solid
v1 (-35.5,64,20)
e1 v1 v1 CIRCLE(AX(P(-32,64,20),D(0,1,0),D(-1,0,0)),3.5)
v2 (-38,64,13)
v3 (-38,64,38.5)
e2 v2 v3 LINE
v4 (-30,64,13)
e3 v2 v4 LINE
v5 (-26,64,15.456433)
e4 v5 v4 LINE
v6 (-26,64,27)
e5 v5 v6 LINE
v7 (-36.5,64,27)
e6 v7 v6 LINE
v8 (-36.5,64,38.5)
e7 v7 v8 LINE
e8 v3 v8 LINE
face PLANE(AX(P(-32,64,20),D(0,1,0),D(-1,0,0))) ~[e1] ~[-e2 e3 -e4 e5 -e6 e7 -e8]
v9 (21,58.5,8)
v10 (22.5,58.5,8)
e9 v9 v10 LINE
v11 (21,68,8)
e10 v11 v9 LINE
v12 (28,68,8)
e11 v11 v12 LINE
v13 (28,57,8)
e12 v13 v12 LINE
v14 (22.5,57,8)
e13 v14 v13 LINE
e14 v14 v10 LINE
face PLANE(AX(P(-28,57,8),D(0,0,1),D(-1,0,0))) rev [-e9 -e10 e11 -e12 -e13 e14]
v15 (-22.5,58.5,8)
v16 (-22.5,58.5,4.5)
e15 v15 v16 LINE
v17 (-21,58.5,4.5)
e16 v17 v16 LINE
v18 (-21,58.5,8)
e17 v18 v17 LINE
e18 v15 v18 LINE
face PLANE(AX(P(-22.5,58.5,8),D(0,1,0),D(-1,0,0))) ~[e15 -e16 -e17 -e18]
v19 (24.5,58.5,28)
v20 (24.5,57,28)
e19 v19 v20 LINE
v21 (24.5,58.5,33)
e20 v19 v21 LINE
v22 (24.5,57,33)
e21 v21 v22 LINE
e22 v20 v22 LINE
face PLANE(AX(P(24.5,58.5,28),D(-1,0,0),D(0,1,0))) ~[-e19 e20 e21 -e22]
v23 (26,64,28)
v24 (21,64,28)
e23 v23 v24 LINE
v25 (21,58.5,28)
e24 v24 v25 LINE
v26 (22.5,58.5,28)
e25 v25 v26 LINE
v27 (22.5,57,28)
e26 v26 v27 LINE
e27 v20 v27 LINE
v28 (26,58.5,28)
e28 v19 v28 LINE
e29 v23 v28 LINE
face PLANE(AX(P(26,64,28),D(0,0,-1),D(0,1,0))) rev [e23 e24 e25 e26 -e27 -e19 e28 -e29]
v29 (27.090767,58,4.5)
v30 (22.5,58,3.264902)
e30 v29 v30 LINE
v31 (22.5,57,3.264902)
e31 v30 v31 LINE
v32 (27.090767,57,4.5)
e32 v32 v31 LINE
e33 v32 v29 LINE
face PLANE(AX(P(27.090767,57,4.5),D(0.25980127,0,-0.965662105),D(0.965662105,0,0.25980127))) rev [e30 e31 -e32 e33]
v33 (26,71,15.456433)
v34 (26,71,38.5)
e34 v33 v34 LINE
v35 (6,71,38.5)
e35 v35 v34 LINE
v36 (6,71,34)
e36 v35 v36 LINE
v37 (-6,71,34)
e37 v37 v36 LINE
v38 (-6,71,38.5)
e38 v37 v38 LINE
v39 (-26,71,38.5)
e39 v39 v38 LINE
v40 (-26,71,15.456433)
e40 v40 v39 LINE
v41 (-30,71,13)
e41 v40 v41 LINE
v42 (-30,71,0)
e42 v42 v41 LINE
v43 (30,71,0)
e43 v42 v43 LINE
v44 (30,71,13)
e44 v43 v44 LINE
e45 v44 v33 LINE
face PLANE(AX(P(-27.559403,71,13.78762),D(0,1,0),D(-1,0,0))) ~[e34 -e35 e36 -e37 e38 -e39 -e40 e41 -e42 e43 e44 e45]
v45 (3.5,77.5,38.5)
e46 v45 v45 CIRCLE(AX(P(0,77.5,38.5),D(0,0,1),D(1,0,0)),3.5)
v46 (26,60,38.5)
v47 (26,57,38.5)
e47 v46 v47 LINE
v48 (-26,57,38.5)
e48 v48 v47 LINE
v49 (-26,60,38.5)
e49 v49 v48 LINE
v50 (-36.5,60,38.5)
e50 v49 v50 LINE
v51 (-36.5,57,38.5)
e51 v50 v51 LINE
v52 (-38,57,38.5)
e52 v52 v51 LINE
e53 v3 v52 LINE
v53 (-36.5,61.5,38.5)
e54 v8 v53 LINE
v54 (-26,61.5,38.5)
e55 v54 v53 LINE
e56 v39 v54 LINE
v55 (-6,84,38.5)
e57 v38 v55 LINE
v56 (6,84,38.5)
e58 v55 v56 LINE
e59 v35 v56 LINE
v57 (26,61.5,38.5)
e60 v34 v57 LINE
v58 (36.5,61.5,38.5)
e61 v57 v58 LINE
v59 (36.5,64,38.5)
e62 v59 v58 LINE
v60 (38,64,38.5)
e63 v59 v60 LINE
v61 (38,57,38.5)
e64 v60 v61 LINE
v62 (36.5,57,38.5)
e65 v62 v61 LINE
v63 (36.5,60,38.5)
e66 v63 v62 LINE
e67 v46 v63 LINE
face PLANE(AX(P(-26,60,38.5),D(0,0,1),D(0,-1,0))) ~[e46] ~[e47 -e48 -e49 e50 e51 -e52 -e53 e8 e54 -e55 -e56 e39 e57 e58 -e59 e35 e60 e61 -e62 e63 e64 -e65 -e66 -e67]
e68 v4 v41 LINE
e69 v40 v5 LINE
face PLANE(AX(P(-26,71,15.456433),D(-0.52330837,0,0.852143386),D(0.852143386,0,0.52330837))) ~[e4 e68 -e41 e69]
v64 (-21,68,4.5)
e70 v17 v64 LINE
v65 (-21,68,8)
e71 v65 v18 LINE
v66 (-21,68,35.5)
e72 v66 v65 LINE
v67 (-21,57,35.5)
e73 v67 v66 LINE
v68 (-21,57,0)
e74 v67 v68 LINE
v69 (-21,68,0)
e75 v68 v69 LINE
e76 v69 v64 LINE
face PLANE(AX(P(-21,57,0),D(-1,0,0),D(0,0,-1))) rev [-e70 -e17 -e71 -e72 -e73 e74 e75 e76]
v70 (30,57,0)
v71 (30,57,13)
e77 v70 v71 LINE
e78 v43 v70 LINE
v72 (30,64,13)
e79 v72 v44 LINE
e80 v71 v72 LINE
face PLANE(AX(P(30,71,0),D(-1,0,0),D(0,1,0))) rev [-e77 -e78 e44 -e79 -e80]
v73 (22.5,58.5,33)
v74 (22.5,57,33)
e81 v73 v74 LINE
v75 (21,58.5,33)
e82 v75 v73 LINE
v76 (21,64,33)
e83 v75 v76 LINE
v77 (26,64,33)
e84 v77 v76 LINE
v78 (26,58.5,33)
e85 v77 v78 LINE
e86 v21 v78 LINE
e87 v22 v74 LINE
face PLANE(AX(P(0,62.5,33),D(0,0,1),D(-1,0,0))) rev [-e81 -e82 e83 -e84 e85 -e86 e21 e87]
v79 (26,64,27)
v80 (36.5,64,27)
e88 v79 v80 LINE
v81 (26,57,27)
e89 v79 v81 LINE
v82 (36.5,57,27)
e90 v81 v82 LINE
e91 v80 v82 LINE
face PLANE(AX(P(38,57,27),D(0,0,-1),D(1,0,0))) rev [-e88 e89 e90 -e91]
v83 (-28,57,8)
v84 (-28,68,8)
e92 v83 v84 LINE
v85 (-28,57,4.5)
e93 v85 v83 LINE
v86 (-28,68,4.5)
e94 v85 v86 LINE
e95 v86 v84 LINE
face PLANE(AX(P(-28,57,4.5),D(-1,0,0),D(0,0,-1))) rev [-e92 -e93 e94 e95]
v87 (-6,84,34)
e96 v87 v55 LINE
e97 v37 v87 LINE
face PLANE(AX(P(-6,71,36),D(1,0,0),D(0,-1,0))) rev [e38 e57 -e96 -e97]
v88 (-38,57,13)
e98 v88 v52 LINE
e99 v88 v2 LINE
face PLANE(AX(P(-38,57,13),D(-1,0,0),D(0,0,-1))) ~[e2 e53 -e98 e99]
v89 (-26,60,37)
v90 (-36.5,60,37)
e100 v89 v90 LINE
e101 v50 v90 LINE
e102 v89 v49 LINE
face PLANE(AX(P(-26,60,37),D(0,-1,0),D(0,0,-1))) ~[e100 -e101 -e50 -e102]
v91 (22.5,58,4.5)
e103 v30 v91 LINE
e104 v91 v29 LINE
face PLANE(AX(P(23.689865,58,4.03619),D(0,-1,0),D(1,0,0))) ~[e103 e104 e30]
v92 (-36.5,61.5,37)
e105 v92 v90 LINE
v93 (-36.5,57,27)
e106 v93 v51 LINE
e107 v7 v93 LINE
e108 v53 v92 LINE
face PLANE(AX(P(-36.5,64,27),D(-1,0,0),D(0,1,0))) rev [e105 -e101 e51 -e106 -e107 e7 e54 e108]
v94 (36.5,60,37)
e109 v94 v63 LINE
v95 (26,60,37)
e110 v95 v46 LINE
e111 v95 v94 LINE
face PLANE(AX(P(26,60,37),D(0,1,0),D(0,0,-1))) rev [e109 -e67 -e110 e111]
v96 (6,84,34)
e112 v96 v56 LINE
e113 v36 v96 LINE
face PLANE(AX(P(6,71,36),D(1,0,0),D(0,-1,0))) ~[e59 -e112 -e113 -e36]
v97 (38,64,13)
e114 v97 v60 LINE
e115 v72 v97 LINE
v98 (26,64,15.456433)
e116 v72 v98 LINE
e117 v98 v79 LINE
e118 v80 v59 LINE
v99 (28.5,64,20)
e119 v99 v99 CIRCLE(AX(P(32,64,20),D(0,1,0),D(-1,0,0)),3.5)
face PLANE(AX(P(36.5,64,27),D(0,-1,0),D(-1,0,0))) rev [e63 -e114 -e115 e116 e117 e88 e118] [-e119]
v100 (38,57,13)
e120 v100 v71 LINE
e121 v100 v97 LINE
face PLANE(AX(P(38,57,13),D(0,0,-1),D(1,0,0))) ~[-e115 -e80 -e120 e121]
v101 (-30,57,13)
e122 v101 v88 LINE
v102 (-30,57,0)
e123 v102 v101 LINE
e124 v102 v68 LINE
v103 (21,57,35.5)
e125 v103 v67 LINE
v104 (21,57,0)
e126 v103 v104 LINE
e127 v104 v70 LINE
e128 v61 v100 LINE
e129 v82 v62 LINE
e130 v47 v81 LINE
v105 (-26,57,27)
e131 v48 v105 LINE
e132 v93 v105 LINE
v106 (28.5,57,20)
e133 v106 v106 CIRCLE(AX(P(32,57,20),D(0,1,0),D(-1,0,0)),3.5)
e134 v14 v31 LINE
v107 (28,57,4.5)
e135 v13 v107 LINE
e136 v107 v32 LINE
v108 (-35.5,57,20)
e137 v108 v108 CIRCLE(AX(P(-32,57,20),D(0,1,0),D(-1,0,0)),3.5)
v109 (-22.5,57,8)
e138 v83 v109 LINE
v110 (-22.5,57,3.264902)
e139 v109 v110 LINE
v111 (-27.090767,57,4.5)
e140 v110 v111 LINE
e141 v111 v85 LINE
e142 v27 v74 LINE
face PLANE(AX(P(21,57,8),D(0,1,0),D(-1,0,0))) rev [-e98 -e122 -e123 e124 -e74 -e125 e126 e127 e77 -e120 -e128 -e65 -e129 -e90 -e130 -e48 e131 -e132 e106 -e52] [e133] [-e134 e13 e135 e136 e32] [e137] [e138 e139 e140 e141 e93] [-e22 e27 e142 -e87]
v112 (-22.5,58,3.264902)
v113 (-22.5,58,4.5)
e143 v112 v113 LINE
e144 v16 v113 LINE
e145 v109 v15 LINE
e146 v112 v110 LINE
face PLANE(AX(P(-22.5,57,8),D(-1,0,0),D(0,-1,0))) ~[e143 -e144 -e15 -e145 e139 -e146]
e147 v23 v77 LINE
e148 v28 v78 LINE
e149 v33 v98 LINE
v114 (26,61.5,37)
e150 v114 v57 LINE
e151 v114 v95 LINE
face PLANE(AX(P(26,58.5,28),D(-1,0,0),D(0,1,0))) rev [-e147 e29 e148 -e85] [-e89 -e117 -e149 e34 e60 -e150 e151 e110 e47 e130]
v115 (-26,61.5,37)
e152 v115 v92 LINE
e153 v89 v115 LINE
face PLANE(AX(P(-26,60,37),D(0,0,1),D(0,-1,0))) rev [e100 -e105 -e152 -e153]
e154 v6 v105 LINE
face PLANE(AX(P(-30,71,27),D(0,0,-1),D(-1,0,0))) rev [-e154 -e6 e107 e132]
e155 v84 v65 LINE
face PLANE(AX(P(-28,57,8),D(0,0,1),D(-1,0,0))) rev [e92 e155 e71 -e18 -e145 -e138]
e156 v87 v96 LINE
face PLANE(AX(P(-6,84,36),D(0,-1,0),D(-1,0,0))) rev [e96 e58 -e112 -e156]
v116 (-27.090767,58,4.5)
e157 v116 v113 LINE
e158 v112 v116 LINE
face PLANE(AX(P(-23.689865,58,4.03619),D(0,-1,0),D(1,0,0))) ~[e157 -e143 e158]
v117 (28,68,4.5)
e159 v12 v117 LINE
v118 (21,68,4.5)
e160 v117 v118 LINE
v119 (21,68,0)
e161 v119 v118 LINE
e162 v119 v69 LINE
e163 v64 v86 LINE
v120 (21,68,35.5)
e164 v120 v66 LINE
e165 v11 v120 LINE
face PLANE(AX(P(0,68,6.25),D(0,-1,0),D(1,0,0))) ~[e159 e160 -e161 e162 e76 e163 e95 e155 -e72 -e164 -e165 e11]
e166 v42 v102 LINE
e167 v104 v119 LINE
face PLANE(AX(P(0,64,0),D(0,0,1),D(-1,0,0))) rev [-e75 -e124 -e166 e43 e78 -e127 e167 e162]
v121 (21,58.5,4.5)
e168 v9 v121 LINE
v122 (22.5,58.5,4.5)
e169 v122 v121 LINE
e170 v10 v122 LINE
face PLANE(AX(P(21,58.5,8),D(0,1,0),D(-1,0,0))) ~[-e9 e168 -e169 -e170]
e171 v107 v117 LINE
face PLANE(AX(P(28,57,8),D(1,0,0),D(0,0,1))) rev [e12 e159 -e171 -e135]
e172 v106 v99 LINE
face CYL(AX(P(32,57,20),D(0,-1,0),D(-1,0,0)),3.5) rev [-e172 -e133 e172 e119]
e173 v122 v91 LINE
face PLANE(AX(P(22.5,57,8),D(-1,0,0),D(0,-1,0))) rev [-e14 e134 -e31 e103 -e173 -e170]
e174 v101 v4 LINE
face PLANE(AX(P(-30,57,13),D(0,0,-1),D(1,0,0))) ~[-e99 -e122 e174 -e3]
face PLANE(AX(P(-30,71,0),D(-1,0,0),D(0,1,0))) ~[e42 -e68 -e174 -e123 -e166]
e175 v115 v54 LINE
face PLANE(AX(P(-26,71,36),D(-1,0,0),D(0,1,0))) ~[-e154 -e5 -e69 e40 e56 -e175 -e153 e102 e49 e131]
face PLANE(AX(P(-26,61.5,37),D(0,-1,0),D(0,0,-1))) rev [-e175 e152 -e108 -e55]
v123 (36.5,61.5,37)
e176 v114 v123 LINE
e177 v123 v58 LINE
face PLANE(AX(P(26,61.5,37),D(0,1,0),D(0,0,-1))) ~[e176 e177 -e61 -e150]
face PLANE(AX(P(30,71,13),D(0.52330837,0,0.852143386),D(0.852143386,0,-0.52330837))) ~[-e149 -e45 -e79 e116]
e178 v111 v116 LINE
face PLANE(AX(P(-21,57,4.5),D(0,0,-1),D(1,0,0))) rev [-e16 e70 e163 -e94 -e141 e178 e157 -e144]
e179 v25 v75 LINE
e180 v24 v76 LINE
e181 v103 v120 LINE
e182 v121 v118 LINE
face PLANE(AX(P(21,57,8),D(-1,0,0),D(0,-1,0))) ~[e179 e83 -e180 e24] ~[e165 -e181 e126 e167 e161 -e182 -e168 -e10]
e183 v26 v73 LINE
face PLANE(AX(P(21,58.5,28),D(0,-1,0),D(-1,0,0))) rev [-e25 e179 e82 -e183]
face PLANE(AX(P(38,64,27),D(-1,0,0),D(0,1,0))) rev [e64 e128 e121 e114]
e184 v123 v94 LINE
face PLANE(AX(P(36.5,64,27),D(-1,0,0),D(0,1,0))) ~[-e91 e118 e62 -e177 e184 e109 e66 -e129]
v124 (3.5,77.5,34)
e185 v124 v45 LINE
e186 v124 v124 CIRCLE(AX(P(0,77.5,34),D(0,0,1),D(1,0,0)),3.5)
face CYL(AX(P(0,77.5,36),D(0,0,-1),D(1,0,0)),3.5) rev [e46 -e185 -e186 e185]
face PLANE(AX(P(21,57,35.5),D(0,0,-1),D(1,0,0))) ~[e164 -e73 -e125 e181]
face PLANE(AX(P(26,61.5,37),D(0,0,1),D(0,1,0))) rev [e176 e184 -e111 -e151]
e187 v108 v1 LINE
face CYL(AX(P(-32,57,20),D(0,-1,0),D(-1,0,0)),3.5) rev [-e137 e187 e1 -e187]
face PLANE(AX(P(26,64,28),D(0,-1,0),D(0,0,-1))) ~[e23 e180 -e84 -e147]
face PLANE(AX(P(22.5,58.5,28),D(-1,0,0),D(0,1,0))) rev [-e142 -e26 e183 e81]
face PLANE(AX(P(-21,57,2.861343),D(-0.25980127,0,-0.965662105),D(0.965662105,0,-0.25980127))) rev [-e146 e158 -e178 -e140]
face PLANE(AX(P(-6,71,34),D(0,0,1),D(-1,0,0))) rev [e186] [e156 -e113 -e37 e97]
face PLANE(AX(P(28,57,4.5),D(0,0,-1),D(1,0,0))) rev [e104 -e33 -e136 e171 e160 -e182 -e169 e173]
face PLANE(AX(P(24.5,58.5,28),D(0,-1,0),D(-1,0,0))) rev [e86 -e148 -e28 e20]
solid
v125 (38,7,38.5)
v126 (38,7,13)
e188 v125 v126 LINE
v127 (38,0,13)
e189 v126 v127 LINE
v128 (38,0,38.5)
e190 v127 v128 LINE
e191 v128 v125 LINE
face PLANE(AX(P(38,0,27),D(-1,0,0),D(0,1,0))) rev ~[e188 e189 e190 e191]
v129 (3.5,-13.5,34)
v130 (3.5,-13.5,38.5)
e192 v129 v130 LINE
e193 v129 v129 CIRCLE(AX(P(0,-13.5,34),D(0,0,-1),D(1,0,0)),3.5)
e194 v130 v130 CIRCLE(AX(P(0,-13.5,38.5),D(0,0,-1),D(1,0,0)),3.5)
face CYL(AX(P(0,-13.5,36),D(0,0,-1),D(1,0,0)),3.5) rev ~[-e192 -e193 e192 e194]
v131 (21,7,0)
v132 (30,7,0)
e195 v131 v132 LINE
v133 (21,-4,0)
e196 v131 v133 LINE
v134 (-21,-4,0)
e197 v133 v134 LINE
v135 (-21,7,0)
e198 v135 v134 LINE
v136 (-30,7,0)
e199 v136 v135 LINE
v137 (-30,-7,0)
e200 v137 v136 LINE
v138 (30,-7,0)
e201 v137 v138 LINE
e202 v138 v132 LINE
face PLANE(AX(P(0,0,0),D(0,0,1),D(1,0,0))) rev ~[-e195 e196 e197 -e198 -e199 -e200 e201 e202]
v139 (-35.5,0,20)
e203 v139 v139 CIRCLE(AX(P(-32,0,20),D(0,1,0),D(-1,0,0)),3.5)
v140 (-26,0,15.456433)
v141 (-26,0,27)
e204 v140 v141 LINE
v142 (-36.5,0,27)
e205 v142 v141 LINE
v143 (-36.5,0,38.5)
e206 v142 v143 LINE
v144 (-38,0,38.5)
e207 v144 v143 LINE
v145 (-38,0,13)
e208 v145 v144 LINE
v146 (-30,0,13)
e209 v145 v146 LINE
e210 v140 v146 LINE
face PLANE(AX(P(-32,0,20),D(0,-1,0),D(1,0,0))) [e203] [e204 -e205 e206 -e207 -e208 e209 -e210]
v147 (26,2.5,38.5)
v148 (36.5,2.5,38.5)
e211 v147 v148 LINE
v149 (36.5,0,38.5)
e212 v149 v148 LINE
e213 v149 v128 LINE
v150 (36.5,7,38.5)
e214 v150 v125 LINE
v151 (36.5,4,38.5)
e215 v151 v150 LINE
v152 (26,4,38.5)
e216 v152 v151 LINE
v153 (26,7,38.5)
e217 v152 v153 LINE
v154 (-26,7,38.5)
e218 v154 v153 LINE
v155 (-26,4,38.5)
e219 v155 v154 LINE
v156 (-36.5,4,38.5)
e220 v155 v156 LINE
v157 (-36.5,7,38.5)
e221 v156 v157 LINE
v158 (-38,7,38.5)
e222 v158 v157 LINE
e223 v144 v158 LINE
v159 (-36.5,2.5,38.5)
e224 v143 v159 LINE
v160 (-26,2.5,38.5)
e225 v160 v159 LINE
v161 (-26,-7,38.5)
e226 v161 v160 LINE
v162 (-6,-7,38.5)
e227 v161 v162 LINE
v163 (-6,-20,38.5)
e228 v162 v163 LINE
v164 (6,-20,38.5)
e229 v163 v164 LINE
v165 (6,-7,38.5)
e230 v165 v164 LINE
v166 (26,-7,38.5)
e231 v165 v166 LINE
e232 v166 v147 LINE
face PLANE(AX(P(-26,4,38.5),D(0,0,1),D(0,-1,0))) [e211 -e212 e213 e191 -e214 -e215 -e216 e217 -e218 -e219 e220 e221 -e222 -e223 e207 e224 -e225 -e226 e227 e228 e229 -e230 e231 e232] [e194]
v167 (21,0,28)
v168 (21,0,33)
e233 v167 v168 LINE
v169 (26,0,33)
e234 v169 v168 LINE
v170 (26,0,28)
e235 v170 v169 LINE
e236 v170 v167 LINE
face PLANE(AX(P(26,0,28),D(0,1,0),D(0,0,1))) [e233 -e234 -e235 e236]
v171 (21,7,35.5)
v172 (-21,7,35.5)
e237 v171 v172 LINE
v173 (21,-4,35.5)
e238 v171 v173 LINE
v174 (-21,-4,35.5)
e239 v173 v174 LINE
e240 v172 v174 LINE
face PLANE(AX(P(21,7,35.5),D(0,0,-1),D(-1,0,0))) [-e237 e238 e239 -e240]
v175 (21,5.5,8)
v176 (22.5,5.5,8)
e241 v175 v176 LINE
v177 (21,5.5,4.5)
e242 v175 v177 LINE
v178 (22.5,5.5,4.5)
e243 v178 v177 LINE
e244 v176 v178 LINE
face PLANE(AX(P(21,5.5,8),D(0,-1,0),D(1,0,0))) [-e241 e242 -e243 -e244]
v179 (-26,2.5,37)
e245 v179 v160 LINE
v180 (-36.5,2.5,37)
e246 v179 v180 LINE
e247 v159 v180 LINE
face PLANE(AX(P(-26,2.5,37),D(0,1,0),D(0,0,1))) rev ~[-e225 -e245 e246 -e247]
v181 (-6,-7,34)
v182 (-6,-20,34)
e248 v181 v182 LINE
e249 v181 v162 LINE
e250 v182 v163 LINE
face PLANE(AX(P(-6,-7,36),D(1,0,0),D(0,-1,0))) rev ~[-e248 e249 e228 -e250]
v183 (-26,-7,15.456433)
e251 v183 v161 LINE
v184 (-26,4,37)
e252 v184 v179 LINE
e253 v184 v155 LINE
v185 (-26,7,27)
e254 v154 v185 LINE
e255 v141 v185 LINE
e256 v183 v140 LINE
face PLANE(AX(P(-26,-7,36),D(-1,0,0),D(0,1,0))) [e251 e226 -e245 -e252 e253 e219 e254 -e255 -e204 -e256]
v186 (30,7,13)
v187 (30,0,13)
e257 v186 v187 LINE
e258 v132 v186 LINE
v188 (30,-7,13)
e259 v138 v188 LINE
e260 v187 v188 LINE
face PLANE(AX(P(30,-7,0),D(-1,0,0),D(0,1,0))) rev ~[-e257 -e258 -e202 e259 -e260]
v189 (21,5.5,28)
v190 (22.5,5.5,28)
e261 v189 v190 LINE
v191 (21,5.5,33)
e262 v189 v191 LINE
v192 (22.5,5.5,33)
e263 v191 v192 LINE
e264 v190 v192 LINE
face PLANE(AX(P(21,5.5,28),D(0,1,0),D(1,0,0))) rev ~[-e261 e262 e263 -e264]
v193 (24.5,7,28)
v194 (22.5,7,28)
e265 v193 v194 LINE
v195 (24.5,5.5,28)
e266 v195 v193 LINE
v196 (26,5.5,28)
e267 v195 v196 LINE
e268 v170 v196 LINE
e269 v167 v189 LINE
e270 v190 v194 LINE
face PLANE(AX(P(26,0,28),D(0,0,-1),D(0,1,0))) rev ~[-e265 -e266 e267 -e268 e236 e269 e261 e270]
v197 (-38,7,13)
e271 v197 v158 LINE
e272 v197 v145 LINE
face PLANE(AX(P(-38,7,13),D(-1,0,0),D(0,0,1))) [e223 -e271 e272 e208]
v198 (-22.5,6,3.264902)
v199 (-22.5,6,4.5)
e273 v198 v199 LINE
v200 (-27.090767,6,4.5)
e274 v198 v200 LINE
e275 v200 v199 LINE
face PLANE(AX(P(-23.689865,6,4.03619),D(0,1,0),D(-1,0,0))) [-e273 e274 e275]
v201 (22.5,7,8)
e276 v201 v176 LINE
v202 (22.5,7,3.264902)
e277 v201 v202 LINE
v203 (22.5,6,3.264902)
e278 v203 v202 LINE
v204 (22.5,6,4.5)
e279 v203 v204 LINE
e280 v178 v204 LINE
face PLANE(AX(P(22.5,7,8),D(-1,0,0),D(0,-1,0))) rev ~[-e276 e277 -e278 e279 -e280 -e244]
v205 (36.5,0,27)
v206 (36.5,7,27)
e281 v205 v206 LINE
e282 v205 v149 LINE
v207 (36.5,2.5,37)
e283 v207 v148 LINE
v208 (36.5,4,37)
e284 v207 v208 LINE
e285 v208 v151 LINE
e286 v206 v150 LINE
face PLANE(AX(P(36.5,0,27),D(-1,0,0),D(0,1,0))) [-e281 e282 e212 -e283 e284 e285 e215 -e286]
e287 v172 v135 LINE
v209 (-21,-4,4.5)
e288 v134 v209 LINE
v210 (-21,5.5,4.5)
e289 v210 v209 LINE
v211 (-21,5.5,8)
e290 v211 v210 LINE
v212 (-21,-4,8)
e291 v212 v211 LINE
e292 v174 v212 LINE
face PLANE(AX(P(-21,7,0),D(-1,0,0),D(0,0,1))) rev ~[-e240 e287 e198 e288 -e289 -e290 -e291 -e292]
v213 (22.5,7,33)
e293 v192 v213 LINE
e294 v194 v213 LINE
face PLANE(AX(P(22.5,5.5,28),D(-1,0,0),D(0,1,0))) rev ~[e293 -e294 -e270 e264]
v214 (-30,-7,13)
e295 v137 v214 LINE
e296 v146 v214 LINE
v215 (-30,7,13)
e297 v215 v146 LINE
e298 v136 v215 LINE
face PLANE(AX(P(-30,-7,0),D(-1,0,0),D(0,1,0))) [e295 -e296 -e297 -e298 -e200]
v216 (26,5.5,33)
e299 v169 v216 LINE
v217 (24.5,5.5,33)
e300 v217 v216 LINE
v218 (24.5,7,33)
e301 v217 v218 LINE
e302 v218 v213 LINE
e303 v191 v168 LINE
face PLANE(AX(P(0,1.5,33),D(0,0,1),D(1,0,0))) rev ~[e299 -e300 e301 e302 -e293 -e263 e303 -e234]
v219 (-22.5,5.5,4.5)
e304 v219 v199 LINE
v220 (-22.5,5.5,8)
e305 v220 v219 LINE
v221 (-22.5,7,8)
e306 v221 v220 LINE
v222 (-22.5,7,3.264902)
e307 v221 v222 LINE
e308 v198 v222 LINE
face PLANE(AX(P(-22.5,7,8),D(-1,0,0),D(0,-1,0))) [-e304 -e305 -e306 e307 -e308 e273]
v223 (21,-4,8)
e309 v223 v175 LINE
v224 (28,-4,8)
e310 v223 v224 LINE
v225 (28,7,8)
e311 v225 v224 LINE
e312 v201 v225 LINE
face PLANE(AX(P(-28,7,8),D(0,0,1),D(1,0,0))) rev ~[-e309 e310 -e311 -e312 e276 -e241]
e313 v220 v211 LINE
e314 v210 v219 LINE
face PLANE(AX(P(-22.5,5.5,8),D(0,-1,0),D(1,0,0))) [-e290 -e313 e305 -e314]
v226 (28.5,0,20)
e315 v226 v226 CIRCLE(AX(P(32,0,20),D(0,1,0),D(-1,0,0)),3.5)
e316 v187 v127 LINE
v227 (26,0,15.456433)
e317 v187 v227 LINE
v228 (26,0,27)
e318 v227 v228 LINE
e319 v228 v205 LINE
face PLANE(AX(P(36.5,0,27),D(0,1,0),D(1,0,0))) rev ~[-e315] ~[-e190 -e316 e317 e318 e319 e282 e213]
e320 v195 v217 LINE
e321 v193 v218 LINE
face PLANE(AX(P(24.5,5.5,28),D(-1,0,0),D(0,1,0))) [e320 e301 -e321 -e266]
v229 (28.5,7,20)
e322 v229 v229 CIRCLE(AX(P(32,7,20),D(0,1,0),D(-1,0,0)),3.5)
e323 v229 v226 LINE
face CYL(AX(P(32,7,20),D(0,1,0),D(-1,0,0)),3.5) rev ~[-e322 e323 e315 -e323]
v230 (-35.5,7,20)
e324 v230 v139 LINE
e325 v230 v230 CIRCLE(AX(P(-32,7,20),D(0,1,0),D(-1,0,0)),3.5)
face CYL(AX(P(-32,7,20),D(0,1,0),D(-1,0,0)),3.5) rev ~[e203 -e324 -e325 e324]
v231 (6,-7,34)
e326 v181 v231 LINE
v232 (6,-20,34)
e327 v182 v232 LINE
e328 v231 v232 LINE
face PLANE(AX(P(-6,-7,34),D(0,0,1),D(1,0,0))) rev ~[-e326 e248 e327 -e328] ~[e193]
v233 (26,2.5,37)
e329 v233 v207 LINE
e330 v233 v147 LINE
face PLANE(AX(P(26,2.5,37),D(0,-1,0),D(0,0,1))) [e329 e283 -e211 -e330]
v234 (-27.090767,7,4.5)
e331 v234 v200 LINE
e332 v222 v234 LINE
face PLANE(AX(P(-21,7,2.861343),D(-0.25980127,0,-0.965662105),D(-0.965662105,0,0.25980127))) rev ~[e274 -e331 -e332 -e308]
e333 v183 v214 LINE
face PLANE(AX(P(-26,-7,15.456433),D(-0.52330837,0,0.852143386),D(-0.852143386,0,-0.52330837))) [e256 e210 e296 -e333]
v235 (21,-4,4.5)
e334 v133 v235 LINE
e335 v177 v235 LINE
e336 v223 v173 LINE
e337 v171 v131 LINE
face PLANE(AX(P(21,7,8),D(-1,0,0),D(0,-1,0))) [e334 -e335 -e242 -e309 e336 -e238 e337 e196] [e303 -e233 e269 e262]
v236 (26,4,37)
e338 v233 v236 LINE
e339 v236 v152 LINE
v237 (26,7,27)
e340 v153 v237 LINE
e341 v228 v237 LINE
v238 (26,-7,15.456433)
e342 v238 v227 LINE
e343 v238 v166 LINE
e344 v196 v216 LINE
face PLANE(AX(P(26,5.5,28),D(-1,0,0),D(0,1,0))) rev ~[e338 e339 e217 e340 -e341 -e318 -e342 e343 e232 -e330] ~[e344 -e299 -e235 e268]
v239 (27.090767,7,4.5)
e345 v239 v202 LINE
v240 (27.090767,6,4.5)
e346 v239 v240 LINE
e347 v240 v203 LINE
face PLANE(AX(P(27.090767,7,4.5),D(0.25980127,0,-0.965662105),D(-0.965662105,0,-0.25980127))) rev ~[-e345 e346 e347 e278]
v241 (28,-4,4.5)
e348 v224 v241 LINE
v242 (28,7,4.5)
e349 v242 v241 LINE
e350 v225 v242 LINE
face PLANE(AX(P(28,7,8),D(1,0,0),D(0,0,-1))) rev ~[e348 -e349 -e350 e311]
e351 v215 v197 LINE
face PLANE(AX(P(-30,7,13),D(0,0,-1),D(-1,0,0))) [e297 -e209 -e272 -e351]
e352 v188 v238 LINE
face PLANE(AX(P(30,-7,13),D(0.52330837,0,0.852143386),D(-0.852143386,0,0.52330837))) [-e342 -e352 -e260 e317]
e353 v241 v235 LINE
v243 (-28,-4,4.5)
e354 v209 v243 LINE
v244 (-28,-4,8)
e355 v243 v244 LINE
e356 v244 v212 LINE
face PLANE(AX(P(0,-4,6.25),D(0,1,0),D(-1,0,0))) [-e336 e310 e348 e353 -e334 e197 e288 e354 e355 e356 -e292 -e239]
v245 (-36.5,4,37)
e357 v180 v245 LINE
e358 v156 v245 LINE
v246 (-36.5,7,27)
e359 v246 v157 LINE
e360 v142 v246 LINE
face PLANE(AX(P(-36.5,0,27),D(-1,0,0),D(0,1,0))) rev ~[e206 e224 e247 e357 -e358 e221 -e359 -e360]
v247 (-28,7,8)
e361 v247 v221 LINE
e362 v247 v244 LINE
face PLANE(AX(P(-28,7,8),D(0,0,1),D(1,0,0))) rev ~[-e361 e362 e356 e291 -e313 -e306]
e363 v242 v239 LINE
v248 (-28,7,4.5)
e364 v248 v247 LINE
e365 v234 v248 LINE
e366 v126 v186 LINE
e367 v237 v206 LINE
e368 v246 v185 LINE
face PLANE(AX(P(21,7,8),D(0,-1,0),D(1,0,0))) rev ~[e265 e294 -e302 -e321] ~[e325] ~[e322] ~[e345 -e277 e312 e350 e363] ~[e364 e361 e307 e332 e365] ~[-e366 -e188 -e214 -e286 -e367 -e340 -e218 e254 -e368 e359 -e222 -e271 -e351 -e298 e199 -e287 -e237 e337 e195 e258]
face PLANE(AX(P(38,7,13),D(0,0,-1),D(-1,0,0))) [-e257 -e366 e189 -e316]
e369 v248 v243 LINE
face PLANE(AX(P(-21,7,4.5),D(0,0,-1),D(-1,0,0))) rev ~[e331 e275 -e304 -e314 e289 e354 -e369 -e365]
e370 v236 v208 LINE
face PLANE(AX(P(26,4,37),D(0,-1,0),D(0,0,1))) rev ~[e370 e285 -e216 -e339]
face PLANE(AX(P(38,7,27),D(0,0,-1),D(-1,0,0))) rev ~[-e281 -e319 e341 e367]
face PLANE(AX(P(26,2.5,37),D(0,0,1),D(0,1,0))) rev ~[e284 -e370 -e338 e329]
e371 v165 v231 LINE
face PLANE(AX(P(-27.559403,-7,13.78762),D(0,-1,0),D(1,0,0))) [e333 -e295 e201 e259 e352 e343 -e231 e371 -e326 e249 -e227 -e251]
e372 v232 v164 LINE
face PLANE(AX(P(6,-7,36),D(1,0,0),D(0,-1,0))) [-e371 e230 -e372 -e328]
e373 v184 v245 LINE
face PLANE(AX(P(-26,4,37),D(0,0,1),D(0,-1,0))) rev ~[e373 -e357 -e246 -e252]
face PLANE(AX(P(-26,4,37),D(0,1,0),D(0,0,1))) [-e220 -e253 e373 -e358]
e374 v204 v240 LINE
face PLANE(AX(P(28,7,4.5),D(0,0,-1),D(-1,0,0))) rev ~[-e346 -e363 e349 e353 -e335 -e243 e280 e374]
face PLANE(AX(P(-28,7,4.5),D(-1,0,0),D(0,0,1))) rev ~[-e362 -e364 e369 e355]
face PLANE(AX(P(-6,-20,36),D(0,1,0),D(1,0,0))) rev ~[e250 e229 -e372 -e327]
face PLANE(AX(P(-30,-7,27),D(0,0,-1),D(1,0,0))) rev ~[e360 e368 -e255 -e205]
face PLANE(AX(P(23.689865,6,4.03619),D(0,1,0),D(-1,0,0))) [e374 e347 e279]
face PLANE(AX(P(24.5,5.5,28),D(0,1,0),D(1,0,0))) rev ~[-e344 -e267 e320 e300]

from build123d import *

# Parameters (mm, degrees)
F0_W      = 60
F0_H      = 14
F1_DEPTH  = 36
F3_W      = 42
F3_H      = 11
F4_DEPTH  = 25
F5_W      = 42
F5_H      = 4.5
F6_DEPTH  = 11
F7_W      = 8
F7_H      = 14
F8_DEPTH  = 14
F9_R      = 3.5
F10_DEPTH = 14
F11_W     = 12
F11_H     = 14
F12_DEPTH = 7
F13_W     = 4
F13_H     = 9
F14_DEPTH = 14
F15_W     = 7
F15_H     = 5
F16_DEPTH = 5
F18_DEPTH = 1
F19_W     = 12
F19_H     = 5
F20_DEPTH = 13
F21_R     = 3.5
F22_DEPTH = 5
F26_DEPTH = 2.5
F27_W     = 42
F27_H     = 2.5
F28_DEPTH = 11
F29_DEPTH = 3
F30_W     = 1.5
F30_H     = 7
F31_DEPTH = 11.5
F32_W     = 1.5
F32_H     = 1.5
F33_DEPTH = 5
F34_W     = 1.5
F34_H     = 1.5
F35_DEPTH = 6
F37_DEPTH = 7
F38_W     = 1.5
F38_H     = 1.5
F39_DEPTH = 11
F40_W     = 1.5
F40_H     = 1.5
F41_DEPTH = 11


with BuildPart() as f1:
    # F0 (on Top) → F1 (new body)
    with BuildSketch(Plane.XY):
        Rectangle(F0_W, F0_H)
    extrude(amount=F1_DEPTH)

    # F3 (on offset) → F4 (cut)
    with BuildSketch(Plane.XY.offset(33)):
        with Locations((0, 1.5)):
            Rectangle(F3_W, F3_H)
    extrude(amount=-F4_DEPTH, mode=Mode.SUBTRACT)

    # F5 (on face) → F6 (cut)
    with BuildSketch(Plane(origin=(0, 7, 0), x_dir=(-1, 0, 0), z_dir=(0, 1, 0))):
        Polygon((21, 4.5), (28, 4.5), (28, 8), (21, 8), (-21, 8), (-28, 8), (-28, 4.5), (-21, 4.5), align=None)
        with Locations((0, 2.25)):
            Rectangle(F5_W, F5_H)
    extrude(amount=-F6_DEPTH, mode=Mode.SUBTRACT)

    # F7 (on face) → F8 (join)
    with BuildSketch(Plane(origin=(0, 7, 0), x_dir=(-1, 0, 0), z_dir=(0, 1, 0))):
        with Locations((34, 20)):
            Rectangle(F7_W, F7_H)
        with Locations((-34, 20)):
            Rectangle(F7_W, F7_H)
    extrude(amount=-F8_DEPTH)

    # F9 (on face) → F10 (cut)
    with BuildSketch(Plane(origin=(0, 7, 0), x_dir=(-1, 0, 0), z_dir=(0, 1, 0))):
        with Locations((32, 20)):
            Circle(F9_R)
        with Locations((-32, 20)):
            Circle(F9_R)
    extrude(amount=-F10_DEPTH, mode=Mode.SUBTRACT)

    # F11 (on face) → F12 (cut)
    with BuildSketch(Plane.XZ.offset(7)):
        with Locations((32, 20)):
            Rectangle(F11_W, F11_H)
        with Locations((-32, 20)):
            Rectangle(F11_W, F11_H)
    extrude(amount=-F12_DEPTH, mode=Mode.SUBTRACT)

    # F13 (on face) → F14 (cut)
    with BuildSketch(Plane.XZ.offset(7)):
        with Locations((28, 31.5)):
            Rectangle(F13_W, F13_H)
        with Locations((-28, 31.5)):
            Rectangle(F13_W, F13_H)
    extrude(amount=-F14_DEPTH, mode=Mode.SUBTRACT)

    # F15 (on face) → F16 (cut)
    with BuildSketch(Plane.YZ.offset(26)):
        with Locations((3.5, 30.5)):
            Rectangle(F15_W, F15_H)
    extrude(amount=-F16_DEPTH, mode=Mode.SUBTRACT)

    # F17 (on face) → F18 (cut)
    with BuildSketch(Plane(origin=(0, 7, 0), x_dir=(-1, 0, 0), z_dir=(0, 1, 0))):
        Polygon((-27.0907673985, 4.5), (-21, 2.8613428585), (-21, 4.5), align=None)
        Polygon((21, 4.5), (21, 2.8613428585), (27.0907673985, 4.5), align=None)
    extrude(amount=-F18_DEPTH, mode=Mode.SUBTRACT)

    # F19 (on face) → F20 (join)
    with BuildSketch(Plane.XZ.offset(7)):
        with Locations((0, 33.5)):
            Rectangle(F19_W, F19_H)
    extrude(amount=F20_DEPTH)

    # F21 (on face) → F22 (cut)
    with BuildSketch(Plane(origin=(0, 0, 31), x_dir=(1, 0, 0), z_dir=(0, 0, -1))):
        with Locations((0, 13.5)):
            Circle(F21_R)
    extrude(amount=-F22_DEPTH, mode=Mode.SUBTRACT)

    # F26 (add): a face of the model
    f26_faces = [f1.faces().sort_by_distance(p)[0] for p in [
        (0, -1.8763217631, 36),
    ]]
    extrude(f26_faces, amount=F26_DEPTH)

    # F27 (on face) → F28 (cut)
    with BuildSketch(Plane(origin=(0, 7, 0), x_dir=(-1, 0, 0), z_dir=(0, 1, 0))):
        with Locations((0, 34.25)):
            Rectangle(F27_W, F27_H)
    extrude(amount=-F28_DEPTH, mode=Mode.SUBTRACT)

    # F29 (cut): a face of the model
    f29_faces = [f1.faces().sort_by_distance(p)[0] for p in [
        (-5.8230819399, -13.5, 31),
    ]]
    extrude(f29_faces, amount=-F29_DEPTH, mode=Mode.SUBTRACT)

    # F30 (on face) → F31 (join)
    with BuildSketch(Plane.XY.offset(27)):
        with Locations((37.25, 3.5)):
            Rectangle(F30_W, F30_H)
        with Locations((-37.25, 3.5)):
            Rectangle(F30_W, F30_H)
    extrude(amount=F31_DEPTH)

    # F32 (on face) → F33 (join)
    with BuildSketch(Plane.XY.offset(28)):
        with Locations((25.25, 6.25)):
            Rectangle(F32_W, F32_H)
        with Locations((21.75, 6.25)):
            Rectangle(F32_W, F32_H)
    extrude(amount=F33_DEPTH)

    # F34 (on face) → F35 (join)
    with BuildSketch(Plane(origin=(0, 0, 8), x_dir=(1, 0, 0), z_dir=(0, 0, -1))):
        with Locations((21.75, -6.25)):
            Rectangle(F34_W, F34_H)
        with Locations((-21.75, -6.25)):
            Rectangle(F34_W, F34_H)
    extrude(amount=F35_DEPTH)

    # F36 (on face) → F37 (join)
    with BuildSketch(Plane.XZ.offset(7)):
        Polygon((-26, 13), (-26, 15.456433408), (-30, 13), align=None)
        Polygon((26, 15.456433408), (26, 13), (30, 13), align=None)
    extrude(amount=-F37_DEPTH)

    # F38 (on face) → F39 (join)
    with BuildSketch(Plane.YZ.offset(26)):
        with Locations((3.25, 37.75)):
            Rectangle(F38_W, F38_H)
    extrude(amount=F39_DEPTH)

    # F40 (on face) → F41 (join)
    with BuildSketch(Plane(origin=(-26, 0, 0), x_dir=(0, -1, 0), z_dir=(-1, 0, 0))):
        with Locations((-3.25, 37.75)):
            Rectangle(F40_W, F40_H)
    extrude(amount=F41_DEPTH)


with BuildPart() as f42_1:
    # F42: instance of F1
    add(f1.part.mirror(Plane(origin=(27.9952492859, 32, 16.1474245819), x_dir=(-1, 0, 0), z_dir=(0, 1, 0))))


solid = Compound([f1.part, f42_1.part])
